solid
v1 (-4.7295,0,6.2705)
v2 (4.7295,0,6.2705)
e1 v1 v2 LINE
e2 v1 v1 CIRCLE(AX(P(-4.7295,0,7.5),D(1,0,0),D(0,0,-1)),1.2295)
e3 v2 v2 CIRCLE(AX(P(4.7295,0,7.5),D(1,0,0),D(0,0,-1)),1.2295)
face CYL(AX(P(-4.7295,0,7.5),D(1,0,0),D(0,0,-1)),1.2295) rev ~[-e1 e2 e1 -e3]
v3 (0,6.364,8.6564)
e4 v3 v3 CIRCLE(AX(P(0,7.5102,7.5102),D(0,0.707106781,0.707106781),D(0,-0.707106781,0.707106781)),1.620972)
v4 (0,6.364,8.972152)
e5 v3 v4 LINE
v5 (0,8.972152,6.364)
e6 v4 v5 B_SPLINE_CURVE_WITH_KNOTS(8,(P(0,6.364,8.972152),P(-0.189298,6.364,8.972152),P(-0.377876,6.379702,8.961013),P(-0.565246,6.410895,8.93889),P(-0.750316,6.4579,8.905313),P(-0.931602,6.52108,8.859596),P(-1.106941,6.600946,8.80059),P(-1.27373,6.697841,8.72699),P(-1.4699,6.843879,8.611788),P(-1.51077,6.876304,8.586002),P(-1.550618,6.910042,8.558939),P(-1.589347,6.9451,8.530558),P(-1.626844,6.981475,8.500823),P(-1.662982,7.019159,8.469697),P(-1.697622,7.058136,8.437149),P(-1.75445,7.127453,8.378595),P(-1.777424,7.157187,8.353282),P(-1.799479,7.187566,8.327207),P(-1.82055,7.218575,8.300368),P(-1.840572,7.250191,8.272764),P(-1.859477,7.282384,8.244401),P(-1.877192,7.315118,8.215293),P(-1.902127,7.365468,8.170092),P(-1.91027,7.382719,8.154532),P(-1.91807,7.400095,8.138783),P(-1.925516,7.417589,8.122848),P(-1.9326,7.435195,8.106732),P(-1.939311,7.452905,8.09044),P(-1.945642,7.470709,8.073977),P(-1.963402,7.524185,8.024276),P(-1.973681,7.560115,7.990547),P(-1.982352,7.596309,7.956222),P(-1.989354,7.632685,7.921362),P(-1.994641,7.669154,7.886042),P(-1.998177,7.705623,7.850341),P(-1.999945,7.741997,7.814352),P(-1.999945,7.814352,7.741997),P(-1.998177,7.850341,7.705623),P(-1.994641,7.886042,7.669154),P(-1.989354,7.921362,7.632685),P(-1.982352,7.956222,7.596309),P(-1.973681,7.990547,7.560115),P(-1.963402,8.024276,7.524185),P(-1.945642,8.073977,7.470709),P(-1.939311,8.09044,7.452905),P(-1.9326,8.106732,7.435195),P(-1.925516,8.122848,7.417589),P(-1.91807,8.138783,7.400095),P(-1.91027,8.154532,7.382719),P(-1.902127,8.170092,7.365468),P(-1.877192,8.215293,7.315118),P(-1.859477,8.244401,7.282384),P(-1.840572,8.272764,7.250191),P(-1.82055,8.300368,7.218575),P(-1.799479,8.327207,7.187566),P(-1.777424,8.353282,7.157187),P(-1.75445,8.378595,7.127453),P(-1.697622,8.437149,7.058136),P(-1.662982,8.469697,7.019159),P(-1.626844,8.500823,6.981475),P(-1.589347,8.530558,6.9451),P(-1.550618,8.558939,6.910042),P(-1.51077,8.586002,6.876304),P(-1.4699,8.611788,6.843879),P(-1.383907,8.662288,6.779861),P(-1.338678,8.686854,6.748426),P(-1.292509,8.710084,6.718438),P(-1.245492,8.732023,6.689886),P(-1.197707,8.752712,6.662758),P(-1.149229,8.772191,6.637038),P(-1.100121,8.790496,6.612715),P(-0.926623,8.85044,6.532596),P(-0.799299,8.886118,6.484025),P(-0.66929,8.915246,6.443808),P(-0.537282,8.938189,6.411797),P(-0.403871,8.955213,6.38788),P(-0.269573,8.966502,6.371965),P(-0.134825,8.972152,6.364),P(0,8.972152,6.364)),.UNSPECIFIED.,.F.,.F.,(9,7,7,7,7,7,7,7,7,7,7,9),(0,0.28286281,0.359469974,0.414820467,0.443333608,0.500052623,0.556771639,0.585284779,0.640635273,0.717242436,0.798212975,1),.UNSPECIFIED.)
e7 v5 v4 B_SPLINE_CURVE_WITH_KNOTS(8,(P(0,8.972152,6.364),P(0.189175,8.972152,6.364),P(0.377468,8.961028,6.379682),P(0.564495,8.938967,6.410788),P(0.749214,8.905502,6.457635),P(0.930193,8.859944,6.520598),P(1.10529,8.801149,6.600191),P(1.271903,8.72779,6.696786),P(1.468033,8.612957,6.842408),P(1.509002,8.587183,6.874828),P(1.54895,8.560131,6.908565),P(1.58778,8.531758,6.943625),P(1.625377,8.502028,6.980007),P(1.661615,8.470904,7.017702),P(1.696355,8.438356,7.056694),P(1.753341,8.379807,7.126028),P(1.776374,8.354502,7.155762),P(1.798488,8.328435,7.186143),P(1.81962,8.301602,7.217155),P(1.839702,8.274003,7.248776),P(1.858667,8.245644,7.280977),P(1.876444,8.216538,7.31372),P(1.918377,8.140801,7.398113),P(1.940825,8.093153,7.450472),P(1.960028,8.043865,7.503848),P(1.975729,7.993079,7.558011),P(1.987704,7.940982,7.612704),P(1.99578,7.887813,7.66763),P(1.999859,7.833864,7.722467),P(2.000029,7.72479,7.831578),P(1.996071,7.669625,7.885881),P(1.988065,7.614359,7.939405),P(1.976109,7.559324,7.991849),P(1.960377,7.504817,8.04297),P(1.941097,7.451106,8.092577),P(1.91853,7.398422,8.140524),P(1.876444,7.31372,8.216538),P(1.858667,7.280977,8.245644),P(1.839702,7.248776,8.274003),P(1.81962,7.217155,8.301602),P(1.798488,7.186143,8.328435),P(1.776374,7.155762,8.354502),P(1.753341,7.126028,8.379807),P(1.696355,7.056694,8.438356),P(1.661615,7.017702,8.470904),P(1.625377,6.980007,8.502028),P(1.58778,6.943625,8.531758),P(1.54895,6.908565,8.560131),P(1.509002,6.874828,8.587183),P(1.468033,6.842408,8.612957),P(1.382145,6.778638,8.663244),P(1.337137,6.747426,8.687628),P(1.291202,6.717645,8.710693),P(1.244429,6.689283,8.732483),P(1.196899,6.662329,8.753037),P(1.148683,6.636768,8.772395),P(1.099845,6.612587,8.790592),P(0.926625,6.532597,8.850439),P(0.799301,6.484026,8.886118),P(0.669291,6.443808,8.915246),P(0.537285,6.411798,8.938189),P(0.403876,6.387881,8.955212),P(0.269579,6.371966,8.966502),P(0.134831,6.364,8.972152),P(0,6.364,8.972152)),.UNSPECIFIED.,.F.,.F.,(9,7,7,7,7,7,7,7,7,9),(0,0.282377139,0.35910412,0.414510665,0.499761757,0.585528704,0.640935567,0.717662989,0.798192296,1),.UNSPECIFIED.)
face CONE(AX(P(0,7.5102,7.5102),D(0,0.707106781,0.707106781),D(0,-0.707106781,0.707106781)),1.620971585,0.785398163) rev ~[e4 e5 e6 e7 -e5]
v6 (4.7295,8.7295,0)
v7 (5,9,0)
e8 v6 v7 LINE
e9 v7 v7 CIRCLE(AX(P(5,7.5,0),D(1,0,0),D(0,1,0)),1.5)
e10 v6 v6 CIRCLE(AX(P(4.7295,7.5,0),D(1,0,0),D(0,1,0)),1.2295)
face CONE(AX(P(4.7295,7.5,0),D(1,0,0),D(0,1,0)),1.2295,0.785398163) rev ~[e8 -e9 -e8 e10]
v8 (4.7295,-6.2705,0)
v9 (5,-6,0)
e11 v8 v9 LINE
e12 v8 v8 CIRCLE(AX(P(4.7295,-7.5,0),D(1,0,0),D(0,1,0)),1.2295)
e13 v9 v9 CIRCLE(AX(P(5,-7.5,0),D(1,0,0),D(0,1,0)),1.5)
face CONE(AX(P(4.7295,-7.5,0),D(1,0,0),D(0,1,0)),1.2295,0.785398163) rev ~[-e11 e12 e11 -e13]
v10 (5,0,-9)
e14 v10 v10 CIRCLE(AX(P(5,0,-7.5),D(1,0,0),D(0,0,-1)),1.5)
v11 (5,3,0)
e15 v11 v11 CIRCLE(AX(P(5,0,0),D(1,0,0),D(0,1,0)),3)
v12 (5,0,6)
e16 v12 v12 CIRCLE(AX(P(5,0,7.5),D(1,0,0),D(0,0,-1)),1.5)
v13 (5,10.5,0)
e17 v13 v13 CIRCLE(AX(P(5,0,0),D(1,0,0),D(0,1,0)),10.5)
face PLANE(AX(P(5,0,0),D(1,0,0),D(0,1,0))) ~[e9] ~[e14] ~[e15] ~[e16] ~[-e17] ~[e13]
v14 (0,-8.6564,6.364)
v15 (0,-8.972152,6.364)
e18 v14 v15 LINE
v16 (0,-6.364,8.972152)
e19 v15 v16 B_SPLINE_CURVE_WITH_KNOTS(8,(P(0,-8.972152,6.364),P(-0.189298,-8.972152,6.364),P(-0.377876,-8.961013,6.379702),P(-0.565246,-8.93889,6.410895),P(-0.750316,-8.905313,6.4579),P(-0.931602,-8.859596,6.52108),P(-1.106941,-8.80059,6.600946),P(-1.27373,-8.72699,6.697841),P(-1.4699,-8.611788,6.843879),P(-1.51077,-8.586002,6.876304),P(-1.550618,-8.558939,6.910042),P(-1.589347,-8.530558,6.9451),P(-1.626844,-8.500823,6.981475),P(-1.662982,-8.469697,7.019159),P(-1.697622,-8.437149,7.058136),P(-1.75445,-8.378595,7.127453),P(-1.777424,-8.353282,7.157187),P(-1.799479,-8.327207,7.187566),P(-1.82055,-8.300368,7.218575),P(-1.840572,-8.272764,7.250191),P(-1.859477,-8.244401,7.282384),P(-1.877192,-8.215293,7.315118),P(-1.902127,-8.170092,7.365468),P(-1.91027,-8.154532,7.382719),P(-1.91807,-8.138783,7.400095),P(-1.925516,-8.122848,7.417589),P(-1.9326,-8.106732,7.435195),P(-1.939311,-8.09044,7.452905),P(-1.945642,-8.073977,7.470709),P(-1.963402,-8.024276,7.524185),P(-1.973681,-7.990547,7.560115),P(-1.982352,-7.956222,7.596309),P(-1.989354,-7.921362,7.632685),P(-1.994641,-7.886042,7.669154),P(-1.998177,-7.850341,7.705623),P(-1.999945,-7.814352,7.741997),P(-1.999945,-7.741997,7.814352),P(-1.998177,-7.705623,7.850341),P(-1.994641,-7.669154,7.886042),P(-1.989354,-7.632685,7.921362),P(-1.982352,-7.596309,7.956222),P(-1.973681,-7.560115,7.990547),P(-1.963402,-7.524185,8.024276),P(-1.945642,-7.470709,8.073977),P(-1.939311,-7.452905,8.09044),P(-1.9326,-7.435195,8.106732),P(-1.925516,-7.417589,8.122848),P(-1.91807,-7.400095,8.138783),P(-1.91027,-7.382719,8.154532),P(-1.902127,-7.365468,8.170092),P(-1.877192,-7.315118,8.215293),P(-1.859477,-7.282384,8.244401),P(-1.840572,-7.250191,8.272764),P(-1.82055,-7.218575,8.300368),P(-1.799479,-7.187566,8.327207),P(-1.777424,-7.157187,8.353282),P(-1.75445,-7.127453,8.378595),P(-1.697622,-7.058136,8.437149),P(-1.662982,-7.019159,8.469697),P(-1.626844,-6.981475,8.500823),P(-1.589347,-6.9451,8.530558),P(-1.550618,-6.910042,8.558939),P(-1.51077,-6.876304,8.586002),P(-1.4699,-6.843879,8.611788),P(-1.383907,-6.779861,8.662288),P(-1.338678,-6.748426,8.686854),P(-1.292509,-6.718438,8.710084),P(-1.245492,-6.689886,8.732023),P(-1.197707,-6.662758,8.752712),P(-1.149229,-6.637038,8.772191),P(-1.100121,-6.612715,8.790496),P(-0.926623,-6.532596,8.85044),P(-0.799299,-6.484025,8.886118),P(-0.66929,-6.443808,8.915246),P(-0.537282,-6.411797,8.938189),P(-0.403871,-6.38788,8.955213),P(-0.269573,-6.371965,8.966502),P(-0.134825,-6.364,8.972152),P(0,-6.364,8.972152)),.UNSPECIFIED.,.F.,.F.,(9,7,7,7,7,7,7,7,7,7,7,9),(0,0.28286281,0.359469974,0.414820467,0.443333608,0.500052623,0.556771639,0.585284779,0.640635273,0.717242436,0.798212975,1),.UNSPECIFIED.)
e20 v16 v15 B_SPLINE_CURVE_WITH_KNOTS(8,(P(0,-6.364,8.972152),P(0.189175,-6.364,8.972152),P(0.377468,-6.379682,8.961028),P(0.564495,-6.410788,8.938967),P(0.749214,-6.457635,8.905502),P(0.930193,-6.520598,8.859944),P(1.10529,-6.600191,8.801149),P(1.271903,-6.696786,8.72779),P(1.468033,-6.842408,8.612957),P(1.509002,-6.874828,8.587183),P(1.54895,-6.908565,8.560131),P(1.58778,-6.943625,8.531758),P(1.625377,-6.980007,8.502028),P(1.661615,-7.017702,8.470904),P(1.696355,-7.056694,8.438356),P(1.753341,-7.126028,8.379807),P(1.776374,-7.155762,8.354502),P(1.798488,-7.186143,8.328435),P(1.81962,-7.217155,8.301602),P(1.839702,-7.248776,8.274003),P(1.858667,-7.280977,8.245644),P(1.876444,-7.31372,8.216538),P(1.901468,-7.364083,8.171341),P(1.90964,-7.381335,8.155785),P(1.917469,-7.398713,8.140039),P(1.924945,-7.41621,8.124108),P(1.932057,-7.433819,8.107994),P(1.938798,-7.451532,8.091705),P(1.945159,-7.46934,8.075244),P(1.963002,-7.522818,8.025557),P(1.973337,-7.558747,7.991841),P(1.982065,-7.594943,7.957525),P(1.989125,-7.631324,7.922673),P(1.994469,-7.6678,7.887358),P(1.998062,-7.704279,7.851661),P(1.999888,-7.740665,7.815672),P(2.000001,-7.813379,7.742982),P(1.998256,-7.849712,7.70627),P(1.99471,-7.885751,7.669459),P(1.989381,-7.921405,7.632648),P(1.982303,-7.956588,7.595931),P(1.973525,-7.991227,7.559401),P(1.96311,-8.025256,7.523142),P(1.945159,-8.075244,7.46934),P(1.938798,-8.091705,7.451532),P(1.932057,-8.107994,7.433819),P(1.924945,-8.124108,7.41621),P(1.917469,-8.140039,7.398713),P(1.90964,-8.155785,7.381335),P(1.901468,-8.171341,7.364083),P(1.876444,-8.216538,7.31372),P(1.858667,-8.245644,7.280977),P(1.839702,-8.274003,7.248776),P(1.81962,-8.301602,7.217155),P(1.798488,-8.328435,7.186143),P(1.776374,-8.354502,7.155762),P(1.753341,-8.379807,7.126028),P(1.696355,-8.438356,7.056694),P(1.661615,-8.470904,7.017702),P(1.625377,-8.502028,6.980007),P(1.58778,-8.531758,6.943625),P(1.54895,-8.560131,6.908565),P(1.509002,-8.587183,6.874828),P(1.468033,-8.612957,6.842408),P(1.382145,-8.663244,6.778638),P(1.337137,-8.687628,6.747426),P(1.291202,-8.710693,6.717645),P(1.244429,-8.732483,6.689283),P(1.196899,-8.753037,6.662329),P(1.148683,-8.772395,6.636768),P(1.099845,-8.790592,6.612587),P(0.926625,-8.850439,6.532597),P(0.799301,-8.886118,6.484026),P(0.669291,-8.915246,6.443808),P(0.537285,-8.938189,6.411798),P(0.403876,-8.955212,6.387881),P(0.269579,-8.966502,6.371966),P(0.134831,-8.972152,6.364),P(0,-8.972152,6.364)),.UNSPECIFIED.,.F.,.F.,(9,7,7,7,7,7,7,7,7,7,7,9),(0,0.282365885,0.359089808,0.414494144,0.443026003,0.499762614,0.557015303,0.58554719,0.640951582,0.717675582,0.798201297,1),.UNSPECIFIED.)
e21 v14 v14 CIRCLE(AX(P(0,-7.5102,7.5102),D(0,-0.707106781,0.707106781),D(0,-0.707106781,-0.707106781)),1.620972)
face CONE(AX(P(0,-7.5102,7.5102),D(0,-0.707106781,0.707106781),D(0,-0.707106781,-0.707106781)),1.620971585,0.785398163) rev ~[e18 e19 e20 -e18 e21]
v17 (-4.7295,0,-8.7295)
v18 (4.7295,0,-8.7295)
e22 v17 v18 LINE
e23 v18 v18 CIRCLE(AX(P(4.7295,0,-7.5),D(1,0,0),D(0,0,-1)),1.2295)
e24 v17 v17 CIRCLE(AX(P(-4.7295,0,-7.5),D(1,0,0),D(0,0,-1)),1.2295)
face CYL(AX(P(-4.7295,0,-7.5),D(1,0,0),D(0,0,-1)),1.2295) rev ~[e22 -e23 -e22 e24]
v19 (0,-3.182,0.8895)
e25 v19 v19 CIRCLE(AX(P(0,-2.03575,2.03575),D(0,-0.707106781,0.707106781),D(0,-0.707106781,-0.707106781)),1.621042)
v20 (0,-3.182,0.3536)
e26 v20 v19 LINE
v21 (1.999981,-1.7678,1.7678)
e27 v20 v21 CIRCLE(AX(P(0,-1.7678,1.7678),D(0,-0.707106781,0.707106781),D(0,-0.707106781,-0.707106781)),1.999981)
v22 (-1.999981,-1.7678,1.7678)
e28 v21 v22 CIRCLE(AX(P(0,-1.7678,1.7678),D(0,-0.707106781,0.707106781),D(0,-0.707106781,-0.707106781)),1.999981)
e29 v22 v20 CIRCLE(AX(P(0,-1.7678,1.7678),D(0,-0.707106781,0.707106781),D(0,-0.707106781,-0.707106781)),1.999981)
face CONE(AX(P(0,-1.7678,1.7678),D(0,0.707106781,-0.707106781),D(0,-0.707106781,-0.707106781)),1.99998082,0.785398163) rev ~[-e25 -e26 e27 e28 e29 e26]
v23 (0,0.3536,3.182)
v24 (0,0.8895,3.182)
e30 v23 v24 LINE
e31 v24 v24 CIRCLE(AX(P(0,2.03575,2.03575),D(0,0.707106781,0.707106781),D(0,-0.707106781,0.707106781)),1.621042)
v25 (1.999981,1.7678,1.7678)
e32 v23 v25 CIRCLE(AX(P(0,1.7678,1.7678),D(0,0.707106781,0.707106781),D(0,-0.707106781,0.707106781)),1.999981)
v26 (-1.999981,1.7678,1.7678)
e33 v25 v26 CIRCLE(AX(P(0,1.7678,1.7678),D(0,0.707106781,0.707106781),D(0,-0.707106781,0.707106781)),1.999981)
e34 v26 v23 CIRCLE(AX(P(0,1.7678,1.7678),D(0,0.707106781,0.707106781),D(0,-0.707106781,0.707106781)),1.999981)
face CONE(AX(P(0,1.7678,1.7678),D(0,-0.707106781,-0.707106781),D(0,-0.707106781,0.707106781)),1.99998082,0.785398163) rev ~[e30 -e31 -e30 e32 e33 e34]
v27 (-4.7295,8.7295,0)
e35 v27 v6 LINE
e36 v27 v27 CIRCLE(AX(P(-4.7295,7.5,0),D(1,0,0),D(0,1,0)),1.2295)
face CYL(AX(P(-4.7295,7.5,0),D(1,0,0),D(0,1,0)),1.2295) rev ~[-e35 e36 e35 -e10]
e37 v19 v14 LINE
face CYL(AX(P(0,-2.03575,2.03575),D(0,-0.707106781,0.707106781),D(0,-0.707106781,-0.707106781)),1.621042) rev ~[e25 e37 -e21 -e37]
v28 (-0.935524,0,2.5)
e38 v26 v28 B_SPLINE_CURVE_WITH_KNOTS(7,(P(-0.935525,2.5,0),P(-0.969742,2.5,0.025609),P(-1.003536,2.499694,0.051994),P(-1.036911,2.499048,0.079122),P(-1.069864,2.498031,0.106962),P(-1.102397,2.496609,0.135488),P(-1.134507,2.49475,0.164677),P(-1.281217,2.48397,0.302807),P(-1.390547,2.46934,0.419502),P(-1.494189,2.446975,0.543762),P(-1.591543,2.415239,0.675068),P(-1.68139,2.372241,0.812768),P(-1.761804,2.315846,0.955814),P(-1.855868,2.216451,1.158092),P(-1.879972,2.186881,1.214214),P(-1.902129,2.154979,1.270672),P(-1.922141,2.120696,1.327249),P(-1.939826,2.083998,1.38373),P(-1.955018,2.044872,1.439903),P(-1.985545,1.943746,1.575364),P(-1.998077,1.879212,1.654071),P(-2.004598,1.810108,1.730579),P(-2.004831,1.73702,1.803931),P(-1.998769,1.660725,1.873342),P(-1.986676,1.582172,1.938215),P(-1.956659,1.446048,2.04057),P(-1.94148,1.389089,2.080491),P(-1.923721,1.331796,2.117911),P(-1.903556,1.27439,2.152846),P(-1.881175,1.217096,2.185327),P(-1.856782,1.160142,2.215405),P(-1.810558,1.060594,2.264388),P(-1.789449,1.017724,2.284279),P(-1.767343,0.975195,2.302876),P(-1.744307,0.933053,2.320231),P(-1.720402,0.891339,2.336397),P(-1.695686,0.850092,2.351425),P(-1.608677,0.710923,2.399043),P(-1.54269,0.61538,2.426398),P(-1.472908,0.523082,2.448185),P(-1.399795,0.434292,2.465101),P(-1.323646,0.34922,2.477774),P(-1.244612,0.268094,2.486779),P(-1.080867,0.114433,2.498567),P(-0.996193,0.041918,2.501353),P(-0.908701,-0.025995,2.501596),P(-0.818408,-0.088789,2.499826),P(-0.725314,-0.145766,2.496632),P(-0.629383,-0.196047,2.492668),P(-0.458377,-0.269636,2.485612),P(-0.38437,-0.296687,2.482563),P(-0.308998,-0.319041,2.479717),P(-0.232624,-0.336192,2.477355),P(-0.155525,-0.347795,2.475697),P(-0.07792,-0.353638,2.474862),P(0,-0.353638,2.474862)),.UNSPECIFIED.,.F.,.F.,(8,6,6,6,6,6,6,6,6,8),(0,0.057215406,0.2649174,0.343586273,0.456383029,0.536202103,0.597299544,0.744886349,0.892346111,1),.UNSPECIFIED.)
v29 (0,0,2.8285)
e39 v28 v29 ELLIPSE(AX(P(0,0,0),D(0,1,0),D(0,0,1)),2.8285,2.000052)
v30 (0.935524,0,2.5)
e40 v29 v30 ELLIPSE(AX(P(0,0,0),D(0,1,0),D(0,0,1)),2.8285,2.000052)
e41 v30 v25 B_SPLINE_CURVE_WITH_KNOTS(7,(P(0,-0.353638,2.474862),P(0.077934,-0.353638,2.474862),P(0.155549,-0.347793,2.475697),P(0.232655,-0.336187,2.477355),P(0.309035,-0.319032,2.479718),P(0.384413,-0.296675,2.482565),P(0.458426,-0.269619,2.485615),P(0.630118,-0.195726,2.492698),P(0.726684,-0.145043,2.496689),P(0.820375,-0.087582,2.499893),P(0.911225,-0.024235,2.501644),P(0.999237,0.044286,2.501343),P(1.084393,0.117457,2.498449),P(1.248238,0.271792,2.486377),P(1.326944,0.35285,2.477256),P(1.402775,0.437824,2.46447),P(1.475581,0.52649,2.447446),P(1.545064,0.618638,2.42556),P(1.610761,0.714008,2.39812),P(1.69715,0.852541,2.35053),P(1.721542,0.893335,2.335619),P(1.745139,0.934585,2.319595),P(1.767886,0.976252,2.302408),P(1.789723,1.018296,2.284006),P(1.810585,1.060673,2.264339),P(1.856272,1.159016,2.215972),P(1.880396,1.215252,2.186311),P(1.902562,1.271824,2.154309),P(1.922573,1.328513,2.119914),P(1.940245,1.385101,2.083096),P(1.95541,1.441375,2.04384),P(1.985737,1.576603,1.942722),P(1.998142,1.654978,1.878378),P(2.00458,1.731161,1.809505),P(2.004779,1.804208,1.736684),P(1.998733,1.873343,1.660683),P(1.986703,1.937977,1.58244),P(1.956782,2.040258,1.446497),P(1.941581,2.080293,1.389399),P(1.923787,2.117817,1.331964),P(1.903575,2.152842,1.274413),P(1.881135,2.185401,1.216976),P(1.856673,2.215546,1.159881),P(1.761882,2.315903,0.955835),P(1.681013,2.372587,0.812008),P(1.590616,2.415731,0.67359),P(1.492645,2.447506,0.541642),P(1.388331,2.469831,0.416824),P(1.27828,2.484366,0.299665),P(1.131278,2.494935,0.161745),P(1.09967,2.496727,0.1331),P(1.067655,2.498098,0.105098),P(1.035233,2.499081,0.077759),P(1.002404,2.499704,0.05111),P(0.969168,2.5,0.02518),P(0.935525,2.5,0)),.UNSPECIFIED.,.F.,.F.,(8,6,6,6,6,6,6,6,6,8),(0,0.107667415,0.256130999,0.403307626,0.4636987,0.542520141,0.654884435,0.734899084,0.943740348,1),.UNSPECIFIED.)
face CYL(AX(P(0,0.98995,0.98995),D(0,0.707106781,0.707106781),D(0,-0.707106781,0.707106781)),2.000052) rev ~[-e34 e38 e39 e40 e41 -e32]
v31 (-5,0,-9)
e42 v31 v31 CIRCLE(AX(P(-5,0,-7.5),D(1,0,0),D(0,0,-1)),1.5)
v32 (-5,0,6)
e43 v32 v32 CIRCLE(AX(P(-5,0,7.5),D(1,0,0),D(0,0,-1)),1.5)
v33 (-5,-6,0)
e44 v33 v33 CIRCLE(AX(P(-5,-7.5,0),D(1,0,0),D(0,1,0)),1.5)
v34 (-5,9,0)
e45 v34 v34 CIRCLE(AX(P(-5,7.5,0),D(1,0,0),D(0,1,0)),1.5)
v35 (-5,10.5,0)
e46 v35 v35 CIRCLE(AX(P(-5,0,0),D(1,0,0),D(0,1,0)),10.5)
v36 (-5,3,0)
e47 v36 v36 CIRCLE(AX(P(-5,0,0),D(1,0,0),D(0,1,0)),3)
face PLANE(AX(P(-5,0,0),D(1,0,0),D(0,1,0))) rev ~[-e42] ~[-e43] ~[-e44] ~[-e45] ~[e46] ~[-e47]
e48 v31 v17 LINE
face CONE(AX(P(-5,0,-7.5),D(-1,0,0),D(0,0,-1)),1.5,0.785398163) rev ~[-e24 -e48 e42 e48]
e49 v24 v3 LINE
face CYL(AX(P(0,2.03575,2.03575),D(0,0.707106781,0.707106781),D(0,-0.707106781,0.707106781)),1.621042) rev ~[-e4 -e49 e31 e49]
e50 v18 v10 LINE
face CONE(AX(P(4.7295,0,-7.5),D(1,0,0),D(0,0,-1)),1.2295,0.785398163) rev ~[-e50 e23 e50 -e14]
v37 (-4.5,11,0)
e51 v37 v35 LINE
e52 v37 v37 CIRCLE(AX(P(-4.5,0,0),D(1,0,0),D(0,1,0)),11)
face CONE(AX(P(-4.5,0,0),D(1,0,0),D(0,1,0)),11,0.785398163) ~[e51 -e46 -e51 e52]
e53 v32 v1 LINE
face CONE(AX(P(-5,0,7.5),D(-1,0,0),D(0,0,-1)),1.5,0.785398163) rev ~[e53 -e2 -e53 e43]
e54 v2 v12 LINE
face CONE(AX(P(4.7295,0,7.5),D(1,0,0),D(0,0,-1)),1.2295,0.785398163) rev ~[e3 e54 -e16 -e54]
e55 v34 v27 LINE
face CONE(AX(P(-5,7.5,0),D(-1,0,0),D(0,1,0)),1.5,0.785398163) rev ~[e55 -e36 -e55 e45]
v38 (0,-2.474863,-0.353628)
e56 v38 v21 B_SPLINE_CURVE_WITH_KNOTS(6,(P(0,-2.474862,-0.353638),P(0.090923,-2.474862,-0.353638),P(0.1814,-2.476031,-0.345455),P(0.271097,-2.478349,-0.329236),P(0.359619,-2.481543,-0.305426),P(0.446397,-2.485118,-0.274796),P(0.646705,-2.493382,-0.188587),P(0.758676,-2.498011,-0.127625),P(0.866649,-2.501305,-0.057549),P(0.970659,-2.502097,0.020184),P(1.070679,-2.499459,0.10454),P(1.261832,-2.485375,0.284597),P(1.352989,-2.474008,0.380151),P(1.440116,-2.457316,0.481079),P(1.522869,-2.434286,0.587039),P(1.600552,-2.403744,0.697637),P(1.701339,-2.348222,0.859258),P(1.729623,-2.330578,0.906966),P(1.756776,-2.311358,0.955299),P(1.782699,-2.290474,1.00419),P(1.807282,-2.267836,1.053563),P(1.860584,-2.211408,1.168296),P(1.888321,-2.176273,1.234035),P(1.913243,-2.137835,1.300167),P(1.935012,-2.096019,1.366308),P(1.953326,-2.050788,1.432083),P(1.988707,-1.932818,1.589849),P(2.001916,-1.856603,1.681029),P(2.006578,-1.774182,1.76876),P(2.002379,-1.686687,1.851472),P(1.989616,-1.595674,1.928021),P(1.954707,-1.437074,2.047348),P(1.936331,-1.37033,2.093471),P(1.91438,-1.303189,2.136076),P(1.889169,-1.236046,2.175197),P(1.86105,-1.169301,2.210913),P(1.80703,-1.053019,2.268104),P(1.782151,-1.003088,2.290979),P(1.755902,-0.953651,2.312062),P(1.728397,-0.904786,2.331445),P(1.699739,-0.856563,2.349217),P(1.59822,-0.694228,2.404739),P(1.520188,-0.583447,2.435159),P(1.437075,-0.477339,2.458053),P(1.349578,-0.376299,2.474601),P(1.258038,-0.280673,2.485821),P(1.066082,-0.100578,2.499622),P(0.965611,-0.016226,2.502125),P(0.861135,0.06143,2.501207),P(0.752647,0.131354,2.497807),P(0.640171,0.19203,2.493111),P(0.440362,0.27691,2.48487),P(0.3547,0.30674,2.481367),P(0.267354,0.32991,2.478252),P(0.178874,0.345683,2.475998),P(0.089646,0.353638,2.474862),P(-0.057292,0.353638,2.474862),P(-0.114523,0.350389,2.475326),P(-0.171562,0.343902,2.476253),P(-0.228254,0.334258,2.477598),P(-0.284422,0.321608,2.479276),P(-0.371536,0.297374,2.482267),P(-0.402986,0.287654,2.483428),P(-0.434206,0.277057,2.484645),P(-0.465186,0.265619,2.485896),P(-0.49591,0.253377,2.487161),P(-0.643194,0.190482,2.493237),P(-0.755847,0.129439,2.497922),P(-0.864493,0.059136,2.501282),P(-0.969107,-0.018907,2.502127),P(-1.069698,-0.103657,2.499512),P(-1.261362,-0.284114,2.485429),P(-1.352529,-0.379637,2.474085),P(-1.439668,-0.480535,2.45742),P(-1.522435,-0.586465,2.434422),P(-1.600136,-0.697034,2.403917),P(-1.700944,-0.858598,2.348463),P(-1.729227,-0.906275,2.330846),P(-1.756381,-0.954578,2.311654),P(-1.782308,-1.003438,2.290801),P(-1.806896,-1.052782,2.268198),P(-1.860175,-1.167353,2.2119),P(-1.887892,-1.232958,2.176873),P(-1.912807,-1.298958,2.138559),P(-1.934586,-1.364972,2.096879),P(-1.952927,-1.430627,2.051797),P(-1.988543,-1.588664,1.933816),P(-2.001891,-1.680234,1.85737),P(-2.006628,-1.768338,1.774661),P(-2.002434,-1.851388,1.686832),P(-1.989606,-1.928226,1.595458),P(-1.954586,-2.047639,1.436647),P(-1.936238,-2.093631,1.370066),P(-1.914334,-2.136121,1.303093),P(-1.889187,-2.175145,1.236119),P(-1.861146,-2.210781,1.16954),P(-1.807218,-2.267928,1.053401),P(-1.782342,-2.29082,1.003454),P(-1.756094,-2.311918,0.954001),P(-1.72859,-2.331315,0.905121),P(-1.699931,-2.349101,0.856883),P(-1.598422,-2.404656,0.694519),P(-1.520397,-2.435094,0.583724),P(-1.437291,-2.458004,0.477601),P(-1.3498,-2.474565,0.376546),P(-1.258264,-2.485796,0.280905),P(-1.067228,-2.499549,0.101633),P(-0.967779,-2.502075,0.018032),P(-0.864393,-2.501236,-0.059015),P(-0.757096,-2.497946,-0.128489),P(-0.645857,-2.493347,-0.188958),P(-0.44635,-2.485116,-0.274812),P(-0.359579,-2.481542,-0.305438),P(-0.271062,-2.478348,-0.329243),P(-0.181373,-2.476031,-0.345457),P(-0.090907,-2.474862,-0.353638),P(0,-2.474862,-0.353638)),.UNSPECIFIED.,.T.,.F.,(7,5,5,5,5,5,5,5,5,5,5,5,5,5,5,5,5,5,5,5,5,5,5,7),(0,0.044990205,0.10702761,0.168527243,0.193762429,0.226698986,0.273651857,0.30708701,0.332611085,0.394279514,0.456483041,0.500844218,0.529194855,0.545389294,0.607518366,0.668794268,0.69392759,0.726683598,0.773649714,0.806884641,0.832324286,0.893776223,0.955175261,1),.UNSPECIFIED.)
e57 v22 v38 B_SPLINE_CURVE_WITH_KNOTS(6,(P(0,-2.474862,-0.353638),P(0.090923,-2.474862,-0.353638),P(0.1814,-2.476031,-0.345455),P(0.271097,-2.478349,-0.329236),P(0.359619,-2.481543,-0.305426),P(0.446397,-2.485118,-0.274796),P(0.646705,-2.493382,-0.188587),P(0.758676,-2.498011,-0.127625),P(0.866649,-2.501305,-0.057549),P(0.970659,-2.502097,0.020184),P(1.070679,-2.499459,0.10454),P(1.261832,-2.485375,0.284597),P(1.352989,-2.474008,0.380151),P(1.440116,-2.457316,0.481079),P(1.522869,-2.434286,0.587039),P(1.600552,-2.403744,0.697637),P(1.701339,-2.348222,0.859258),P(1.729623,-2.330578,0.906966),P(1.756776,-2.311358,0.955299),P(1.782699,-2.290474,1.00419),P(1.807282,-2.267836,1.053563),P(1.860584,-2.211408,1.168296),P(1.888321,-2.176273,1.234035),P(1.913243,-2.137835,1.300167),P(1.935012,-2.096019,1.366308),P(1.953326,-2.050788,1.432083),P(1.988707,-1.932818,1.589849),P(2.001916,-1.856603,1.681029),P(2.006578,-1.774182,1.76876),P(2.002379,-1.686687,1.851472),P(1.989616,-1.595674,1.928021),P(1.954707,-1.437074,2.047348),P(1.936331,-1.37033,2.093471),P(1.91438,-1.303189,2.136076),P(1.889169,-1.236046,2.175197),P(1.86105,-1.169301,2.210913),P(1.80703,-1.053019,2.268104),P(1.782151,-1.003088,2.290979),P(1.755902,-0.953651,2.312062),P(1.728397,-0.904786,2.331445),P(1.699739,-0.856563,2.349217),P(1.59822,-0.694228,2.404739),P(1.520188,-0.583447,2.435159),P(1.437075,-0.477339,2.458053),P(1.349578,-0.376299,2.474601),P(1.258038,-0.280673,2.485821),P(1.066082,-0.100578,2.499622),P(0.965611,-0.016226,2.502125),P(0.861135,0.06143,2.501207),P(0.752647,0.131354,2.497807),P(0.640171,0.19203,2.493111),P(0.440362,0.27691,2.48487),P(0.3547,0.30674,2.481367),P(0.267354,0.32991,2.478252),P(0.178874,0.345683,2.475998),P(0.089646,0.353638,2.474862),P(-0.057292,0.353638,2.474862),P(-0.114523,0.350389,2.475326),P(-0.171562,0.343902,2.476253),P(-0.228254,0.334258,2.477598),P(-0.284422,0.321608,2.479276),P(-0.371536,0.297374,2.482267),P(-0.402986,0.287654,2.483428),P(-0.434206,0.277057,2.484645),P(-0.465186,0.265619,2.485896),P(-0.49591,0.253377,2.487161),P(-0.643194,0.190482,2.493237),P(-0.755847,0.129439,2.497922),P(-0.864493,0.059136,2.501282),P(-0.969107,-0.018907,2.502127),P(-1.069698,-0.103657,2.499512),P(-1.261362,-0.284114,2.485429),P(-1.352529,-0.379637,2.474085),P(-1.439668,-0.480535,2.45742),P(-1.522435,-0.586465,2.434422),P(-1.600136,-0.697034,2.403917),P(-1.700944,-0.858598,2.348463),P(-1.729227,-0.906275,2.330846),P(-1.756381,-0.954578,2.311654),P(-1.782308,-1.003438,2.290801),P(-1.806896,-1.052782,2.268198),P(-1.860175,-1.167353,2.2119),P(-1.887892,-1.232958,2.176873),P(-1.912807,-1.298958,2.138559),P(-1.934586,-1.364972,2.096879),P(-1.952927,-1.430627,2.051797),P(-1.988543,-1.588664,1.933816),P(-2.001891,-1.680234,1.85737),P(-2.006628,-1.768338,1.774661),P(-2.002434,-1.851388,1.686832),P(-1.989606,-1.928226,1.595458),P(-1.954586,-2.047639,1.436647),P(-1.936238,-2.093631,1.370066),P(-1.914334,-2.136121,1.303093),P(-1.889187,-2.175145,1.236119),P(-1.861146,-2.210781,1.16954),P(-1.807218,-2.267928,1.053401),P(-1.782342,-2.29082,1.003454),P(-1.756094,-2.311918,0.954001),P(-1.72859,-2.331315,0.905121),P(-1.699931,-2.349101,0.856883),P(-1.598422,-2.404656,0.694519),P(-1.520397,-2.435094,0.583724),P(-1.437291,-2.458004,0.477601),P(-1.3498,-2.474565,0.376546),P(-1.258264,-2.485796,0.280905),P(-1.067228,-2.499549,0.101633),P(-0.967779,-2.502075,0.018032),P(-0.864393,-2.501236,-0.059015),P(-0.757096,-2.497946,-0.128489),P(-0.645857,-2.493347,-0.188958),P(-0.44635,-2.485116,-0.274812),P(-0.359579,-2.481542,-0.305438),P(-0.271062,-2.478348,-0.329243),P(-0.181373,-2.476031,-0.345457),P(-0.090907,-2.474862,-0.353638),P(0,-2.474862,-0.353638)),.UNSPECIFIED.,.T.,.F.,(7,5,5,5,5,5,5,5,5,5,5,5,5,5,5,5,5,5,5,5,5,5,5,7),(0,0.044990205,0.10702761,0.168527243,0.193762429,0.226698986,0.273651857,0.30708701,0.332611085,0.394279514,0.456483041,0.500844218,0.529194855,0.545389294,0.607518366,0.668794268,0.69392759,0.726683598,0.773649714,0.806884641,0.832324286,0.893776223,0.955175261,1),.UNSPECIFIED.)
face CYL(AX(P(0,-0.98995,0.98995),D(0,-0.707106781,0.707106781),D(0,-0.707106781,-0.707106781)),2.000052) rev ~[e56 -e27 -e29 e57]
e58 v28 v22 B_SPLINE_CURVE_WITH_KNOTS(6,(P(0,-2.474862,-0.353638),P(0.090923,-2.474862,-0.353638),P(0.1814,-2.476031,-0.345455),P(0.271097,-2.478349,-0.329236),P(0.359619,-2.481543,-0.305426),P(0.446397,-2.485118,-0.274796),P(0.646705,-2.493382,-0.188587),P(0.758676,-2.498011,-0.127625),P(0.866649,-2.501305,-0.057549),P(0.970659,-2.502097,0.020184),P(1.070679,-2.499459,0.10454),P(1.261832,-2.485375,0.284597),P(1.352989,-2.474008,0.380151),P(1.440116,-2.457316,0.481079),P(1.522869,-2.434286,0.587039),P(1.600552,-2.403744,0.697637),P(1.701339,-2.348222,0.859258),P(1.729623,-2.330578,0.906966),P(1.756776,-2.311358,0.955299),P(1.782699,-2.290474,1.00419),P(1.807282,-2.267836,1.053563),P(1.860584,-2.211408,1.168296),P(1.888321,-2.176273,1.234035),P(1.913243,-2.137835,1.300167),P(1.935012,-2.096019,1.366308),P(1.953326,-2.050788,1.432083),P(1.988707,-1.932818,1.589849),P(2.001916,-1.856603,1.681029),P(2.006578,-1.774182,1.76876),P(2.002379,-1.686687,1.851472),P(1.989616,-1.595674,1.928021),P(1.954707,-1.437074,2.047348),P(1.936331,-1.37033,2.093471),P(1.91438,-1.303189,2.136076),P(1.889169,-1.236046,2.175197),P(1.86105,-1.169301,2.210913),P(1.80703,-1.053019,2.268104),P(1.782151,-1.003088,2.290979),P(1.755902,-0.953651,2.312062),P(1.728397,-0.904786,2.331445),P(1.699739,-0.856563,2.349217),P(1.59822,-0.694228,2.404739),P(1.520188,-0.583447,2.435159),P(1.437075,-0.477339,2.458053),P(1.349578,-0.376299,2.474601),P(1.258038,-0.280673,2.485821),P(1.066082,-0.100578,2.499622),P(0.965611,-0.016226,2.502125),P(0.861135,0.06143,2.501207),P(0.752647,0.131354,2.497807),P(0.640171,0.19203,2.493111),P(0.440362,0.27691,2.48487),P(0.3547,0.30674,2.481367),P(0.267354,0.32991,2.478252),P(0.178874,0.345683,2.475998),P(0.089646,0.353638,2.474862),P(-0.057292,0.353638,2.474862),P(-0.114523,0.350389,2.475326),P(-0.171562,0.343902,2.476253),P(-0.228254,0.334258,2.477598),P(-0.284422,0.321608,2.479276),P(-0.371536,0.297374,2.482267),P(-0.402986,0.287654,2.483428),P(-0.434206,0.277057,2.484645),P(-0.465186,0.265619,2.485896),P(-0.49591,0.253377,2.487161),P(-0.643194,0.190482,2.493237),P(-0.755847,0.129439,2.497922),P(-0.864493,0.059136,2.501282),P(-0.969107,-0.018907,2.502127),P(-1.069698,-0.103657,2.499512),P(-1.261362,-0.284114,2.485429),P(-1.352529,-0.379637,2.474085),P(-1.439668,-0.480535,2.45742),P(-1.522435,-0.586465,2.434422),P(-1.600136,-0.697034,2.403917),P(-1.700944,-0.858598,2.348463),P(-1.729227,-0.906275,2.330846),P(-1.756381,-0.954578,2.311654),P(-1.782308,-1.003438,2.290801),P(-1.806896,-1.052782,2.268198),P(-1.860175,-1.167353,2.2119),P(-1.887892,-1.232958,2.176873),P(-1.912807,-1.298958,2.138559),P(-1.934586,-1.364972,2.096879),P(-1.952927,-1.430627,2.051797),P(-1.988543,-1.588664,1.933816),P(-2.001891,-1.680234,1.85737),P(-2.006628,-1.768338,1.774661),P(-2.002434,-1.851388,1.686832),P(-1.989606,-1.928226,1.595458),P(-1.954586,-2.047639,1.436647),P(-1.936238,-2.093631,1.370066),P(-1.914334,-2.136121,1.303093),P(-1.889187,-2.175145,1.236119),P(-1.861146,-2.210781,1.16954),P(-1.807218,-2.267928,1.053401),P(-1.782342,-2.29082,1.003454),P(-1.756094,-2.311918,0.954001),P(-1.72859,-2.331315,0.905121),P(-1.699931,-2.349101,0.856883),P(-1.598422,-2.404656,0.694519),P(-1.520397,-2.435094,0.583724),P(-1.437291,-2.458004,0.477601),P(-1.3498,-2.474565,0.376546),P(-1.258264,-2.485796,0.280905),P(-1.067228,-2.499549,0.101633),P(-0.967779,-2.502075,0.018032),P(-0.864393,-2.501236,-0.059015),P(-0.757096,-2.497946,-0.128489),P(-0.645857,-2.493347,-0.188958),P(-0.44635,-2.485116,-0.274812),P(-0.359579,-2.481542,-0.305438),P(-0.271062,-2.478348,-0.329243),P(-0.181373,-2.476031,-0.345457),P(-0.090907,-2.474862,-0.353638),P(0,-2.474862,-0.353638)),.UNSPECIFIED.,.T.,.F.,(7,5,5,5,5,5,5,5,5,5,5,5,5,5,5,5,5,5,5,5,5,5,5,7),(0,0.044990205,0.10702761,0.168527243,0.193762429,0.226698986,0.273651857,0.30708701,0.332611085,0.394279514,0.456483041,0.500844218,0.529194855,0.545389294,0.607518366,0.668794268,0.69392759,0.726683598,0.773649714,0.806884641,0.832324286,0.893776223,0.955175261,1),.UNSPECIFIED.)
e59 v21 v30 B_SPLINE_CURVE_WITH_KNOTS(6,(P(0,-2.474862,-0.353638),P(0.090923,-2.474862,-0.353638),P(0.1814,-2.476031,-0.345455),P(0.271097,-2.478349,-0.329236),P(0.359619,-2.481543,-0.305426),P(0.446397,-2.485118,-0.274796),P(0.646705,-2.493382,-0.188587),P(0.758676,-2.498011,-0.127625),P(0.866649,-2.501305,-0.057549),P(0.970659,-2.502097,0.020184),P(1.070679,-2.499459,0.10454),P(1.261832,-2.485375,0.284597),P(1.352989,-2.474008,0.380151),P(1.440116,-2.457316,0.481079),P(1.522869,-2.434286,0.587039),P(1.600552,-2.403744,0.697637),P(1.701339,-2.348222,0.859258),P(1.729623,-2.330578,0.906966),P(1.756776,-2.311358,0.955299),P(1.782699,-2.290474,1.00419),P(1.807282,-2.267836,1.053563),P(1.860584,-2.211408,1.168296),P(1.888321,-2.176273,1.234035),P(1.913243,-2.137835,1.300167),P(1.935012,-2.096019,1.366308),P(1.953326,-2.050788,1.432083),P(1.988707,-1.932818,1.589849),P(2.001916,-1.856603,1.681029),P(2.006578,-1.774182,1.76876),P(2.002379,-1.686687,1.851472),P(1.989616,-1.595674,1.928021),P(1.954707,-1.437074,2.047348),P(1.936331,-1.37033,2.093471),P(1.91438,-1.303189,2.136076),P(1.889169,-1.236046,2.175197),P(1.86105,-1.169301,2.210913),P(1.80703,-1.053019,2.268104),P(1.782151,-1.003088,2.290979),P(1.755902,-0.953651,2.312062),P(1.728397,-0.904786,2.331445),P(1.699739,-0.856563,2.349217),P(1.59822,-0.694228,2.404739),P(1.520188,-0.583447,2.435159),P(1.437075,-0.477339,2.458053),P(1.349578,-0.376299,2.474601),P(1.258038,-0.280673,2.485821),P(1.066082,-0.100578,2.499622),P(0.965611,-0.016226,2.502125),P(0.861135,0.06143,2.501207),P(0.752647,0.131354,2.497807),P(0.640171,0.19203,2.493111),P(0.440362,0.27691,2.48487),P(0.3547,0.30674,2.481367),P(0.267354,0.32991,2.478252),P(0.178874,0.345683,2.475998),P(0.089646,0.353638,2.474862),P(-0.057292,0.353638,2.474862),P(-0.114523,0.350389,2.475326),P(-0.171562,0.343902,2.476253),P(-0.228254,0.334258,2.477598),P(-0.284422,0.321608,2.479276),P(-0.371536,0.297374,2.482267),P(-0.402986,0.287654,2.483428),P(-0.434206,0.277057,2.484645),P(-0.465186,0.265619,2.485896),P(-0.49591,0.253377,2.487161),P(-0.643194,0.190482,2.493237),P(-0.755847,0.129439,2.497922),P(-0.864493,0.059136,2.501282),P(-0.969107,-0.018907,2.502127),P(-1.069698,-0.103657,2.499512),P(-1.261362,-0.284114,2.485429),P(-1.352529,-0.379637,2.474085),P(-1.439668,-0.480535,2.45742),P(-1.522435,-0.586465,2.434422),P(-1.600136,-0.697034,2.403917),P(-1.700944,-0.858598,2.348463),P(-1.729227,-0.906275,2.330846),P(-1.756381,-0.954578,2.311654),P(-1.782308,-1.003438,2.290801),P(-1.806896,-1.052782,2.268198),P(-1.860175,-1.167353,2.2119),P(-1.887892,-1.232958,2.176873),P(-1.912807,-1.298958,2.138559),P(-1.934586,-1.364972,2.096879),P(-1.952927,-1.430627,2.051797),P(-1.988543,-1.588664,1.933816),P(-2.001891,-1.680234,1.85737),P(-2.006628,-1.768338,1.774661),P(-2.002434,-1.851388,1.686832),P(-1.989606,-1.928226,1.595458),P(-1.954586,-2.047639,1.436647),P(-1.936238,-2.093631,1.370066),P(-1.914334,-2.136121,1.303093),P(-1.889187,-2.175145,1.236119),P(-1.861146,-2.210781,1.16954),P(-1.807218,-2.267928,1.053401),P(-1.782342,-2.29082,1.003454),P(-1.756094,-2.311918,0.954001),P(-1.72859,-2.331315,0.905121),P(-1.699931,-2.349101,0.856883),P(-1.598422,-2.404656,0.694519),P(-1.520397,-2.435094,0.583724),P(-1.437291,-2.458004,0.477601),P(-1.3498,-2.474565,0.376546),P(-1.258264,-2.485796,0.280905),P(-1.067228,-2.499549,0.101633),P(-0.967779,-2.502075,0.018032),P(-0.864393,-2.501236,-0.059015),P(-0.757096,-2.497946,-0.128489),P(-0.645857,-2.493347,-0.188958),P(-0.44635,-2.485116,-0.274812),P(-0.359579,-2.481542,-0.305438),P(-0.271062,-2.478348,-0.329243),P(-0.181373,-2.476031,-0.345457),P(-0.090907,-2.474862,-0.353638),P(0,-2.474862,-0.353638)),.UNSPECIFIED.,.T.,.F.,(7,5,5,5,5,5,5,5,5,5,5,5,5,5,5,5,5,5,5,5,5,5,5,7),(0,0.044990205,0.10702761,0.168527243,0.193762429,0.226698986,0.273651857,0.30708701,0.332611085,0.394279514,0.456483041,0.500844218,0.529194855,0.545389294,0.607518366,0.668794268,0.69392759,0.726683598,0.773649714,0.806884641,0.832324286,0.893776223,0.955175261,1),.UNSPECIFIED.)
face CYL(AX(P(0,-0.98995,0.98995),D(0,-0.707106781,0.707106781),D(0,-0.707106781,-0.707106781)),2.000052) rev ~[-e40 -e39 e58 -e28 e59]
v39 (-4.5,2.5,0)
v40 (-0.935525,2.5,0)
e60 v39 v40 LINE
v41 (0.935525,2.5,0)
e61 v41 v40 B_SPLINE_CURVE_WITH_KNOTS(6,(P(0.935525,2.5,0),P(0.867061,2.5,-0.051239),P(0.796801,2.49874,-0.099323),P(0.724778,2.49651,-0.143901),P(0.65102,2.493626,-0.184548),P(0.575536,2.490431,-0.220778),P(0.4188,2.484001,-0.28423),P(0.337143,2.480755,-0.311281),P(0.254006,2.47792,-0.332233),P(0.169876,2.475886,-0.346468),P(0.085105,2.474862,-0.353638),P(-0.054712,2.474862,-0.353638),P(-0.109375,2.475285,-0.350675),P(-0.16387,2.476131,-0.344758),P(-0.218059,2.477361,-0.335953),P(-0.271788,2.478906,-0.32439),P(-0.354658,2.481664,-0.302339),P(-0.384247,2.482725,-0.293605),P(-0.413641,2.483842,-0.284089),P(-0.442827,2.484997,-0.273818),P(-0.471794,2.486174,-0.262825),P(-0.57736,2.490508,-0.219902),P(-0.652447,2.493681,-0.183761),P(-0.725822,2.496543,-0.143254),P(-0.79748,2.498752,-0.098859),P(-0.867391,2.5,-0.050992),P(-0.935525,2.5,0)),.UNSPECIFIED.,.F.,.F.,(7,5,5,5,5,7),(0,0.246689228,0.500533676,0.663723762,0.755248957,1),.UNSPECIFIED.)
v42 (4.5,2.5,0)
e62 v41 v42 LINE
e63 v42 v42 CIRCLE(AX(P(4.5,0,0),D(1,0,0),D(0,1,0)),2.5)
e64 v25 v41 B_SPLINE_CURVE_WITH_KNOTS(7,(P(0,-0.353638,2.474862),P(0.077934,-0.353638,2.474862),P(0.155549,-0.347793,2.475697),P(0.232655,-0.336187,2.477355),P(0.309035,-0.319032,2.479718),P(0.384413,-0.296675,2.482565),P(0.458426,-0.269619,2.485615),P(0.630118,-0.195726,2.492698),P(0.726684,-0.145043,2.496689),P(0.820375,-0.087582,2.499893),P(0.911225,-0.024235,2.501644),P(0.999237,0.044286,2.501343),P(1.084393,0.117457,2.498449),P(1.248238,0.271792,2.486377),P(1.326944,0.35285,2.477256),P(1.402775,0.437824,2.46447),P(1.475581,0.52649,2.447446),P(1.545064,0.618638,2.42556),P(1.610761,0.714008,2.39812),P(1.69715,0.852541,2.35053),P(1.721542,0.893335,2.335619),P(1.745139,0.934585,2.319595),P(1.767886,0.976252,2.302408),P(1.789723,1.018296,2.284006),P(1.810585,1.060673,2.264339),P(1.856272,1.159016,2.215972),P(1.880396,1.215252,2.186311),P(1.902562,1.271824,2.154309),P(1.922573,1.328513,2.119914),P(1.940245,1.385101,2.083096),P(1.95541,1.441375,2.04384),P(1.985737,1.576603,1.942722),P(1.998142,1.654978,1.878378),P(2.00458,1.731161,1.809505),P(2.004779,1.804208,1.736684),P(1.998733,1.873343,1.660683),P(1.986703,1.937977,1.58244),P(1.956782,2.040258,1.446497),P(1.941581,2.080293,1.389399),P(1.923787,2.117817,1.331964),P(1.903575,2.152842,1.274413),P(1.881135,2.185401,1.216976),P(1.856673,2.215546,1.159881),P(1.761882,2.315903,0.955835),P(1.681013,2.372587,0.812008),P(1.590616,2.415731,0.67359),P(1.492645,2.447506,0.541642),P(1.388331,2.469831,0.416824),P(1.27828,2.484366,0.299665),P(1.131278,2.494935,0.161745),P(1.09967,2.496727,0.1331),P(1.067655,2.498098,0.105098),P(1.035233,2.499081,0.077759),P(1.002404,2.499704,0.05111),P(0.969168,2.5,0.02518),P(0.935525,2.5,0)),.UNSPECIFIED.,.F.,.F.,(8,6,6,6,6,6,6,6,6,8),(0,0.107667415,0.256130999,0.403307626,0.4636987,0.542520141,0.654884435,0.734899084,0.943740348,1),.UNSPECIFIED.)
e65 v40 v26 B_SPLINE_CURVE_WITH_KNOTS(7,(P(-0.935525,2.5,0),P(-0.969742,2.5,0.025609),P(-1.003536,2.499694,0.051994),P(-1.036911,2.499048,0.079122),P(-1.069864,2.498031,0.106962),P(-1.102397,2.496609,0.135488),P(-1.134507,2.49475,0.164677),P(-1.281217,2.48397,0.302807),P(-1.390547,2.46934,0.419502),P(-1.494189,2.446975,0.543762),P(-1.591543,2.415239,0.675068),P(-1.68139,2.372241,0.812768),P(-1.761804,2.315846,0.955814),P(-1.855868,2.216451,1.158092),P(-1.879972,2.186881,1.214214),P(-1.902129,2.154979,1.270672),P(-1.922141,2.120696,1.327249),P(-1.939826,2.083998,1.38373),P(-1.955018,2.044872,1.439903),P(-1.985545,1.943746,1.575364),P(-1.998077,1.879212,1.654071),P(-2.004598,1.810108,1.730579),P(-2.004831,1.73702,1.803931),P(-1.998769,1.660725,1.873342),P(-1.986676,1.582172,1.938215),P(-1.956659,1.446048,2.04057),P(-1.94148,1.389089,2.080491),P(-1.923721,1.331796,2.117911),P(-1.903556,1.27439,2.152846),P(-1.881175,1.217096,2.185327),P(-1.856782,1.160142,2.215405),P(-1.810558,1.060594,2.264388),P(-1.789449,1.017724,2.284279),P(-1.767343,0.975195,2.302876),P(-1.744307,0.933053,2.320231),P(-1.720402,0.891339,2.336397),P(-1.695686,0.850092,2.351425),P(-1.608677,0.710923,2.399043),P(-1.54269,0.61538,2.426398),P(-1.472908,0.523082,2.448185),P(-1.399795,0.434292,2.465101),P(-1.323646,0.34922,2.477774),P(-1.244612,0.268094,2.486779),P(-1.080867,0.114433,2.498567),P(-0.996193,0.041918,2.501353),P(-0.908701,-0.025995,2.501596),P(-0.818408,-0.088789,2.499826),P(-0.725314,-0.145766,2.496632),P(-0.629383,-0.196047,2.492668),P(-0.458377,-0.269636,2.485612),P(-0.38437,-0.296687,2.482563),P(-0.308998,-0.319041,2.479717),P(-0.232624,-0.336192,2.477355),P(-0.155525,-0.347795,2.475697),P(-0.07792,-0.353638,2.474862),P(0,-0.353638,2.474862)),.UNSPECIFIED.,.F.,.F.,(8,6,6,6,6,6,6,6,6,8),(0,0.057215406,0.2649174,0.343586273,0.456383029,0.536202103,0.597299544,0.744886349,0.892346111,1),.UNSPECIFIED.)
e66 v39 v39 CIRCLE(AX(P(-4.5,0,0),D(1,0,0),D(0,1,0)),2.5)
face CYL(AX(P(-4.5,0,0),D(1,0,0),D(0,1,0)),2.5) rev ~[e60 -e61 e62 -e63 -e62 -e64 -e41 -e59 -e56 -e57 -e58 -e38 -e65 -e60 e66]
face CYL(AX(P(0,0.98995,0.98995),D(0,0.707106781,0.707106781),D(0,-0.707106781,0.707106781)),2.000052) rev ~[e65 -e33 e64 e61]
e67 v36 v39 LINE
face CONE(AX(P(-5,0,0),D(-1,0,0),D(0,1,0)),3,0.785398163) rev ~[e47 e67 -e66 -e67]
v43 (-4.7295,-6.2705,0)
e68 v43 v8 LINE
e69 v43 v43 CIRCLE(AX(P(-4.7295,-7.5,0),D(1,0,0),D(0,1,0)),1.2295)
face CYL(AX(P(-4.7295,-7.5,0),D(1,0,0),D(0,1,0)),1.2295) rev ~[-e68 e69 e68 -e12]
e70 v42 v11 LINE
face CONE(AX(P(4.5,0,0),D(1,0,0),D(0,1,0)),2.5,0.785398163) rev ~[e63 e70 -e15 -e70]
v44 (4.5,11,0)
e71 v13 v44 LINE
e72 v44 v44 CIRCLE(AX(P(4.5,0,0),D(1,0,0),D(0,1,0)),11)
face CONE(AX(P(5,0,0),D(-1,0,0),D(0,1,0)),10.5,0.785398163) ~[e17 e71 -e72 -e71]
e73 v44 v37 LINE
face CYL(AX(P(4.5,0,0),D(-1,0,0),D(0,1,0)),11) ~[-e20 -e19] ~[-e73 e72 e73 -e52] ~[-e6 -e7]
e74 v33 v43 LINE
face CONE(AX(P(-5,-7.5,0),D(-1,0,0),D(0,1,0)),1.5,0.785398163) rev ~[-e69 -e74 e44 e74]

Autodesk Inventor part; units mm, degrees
sketch "Sketch_1" plane through (0, 0, 0) normal (0, 0, 1) x (1, 0, 0)
  line L0 (0, 0) -> (-5, 0)
  line L1 (-5, 3) -> (-4.5, 2.5)
  line L2 (-4.5, 2.5) -> (4.5, 2.5)
  line L3 (4.5, 2.5) -> (5, 3)
  line L4 (5, 3) -> (5, 10.5)
  line L5 (5, 10.5) -> (4.5, 11)
  line L6 (4.5, 11) -> (-4.5, 11)
  line L7 (-4.5, 11) -> (-5, 10.5)
  line L8 (-5, 10.5) -> (-5, 3)
revolve "Revolution1" add sketch "Sketch_1" angle 360 about axis through (0, 0, 0) along (1, 0, 0)
sketch "Sketch_2" plane through (0, 0, 0) normal (1, 0, 0) x (0, 1, 0)
  line L0 (8.556, 8.556) -> (0.9899, 0.9899)
  line L1 (0.9899, 0.9899) -> (-0.4243, 2.4042)
  line L2 (-0.4243, 2.4042) -> (0.3536, 3.182)
  line L3 (0.3536, 3.182) -> (0.8895, 3.182)
  line L4 (0.8895, 3.182) -> (6.364, 8.6564)
  line L5 (6.364, 8.6564) -> (6.364, 9.1924)
  line L6 (6.364, 9.1924) -> (7.1418, 9.9702)
  line L7 (7.1418, 9.9702) -> (8.556, 8.556)
  line L8 (8.556, 8.556) -> (0.9899, 0.9899)
revolve "Revolution2" cut sketch "Sketch_2" angle 360 about axis through (0, 8.556, 8.556) along (0, 0.7071, 0.7071)
thread "Thread1" size "M4x0.7" class "6H" standard "ISO Metric profile" full length
sketch "Sketch_3" plane through (0, 0, 0) normal (1, 0, 0) x (0, 1, 0)
  line L0 (-8.556, 8.556) -> (-0.9899, 0.9899)
  line L1 (-0.9899, 0.9899) -> (-2.4042, -0.4243)
  line L2 (-2.4042, -0.4243) -> (-3.182, 0.3536)
  line L3 (-3.182, 0.3536) -> (-3.182, 0.8895)
  line L4 (-3.182, 0.8895) -> (-8.6564, 6.364)
  line L5 (-8.6564, 6.364) -> (-9.1924, 6.364)
  line L6 (-9.1924, 6.364) -> (-9.9702, 7.1418)
  line L7 (-9.9702, 7.1418) -> (-8.556, 8.556)
  line L8 (-8.556, 8.556) -> (-0.9899, 0.9899)
revolve "Revolution3" cut sketch "Sketch_3" angle 360 about axis through (0, -8.556, 8.556) along (0, -0.7071, 0.7071)
thread "Thread2" size "M4x0.7" class "6H" standard "ISO Metric profile" full length
sketch "Sketch_10" plane through (0, 0, 0) normal (0, 1, 0) x (-1, 0, 0)
  line L0 (-5, -7.5) -> (5, -7.5)
  line L1 (5, -7.5) -> (5, -9)
  line L2 (5, -9) -> (4.7295, -8.7295)
  line L3 (4.7295, -8.7295) -> (-4.7295, -8.7295)
  line L4 (-4.7295, -8.7295) -> (-5, -9)
  line L5 (-5, -9) -> (-5, -7.5)
  line L6 (-5, -7.5) -> (5, -7.5)
revolve "Revolution4" cut sketch "Sketch_10" angle 360 about axis through (5, 0, -7.5) along (1, 0, 0)
thread "Thread3" size "M3x0.5" class "6H" standard "ISO Metric profile" full length
sketch "Sketch_11" plane through (0, 0, 0) normal (0, 1, 0) x (-1, 0, 0)
  line L0 (-5, 7.5) -> (5, 7.5)
  line L1 (5, 7.5) -> (5, 6)
  line L2 (5, 6) -> (4.7295, 6.2705)
  line L3 (4.7295, 6.2705) -> (-4.7295, 6.2705)
  line L4 (-4.7295, 6.2705) -> (-5, 6)
  line L5 (-5, 6) -> (-5, 7.5)
  line L6 (-5, 7.5) -> (5, 7.5)
revolve "Revolution5" cut sketch "Sketch_11" angle 360 about axis through (5, 0, 7.5) along (1, 0, 0)
thread "Thread4" size "M3x0.5" class "6H" standard "ISO Metric profile" full length
sketch "Sketch_12" plane through (0, 0, 0) normal (0, 0, 1) x (1, 0, 0)
  line L0 (5, 7.5) -> (-5, 7.5)
  line L1 (-5, 7.5) -> (-5, 9)
  line L2 (-5, 9) -> (-4.7295, 8.7295)
  line L3 (-4.7295, 8.7295) -> (4.7295, 8.7295)
  line L4 (4.7295, 8.7295) -> (5, 9)
  line L5 (5, 9) -> (5, 7.5)
  line L6 (5, 7.5) -> (-5, 7.5)
revolve "Revolution6" cut sketch "Sketch_12" angle 360 about axis through (5, 7.5, 0) along (1, 0, 0)
thread "Thread5" size "M3x0.5" class "6H" standard "ISO Metric profile" full length
sketch "Sketch_13" plane through (0, 0, 0) normal (0, 0, 1) x (1, 0, 0)
  line L0 (5, -7.5) -> (-5, -7.5)
  line L1 (-5, -7.5) -> (-5, -6)
  line L2 (-5, -6) -> (-4.7295, -6.2705)
  line L3 (-4.7295, -6.2705) -> (4.7295, -6.2705)
  line L4 (4.7295, -6.2705) -> (5, -6)
  line L5 (5, -6) -> (5, -7.5)
  line L6 (5, -7.5) -> (-5, -7.5)
revolve "Revolution7" cut sketch "Sketch_13" angle 360 about axis through (5, -7.5, 0) along (1, 0, 0)
thread "Thread6" size "M3x0.5" class "6H" standard "ISO Metric profile" full length
ref_plane "body_set_h_XY" through (0, -7.7782, 7.7782) normal (0, 0.7071, -0.7071) x (1, 0, 0)
ref_plane "body_set_h_YZ" through (0, -7.7782, 7.7782) normal (1, 0, 0) x (0, -0.7071, -0.7071)
ref_plane "body_set_h_ZX" through (0, -7.7782, 7.7782) normal (0, -0.7071, -0.7071) x (0, 0.7071, -0.7071)
ref_plane "body_set_v_XY" through (0, 7.7782, 7.7782) normal (0, 0.7071, 0.7071) x (1, 0, 0)
ref_plane "body_set_v_YZ" through (0, 7.7782, 7.7782) normal (1, 0, 0) x (0, 0.7071, -0.7071)
ref_plane "body_set_v_ZX" through (0, 7.7782, 7.7782) normal (0, 0.7071, -0.7071) x (0, 0.7071, 0.7071)
properties part number "SCMW5b"
